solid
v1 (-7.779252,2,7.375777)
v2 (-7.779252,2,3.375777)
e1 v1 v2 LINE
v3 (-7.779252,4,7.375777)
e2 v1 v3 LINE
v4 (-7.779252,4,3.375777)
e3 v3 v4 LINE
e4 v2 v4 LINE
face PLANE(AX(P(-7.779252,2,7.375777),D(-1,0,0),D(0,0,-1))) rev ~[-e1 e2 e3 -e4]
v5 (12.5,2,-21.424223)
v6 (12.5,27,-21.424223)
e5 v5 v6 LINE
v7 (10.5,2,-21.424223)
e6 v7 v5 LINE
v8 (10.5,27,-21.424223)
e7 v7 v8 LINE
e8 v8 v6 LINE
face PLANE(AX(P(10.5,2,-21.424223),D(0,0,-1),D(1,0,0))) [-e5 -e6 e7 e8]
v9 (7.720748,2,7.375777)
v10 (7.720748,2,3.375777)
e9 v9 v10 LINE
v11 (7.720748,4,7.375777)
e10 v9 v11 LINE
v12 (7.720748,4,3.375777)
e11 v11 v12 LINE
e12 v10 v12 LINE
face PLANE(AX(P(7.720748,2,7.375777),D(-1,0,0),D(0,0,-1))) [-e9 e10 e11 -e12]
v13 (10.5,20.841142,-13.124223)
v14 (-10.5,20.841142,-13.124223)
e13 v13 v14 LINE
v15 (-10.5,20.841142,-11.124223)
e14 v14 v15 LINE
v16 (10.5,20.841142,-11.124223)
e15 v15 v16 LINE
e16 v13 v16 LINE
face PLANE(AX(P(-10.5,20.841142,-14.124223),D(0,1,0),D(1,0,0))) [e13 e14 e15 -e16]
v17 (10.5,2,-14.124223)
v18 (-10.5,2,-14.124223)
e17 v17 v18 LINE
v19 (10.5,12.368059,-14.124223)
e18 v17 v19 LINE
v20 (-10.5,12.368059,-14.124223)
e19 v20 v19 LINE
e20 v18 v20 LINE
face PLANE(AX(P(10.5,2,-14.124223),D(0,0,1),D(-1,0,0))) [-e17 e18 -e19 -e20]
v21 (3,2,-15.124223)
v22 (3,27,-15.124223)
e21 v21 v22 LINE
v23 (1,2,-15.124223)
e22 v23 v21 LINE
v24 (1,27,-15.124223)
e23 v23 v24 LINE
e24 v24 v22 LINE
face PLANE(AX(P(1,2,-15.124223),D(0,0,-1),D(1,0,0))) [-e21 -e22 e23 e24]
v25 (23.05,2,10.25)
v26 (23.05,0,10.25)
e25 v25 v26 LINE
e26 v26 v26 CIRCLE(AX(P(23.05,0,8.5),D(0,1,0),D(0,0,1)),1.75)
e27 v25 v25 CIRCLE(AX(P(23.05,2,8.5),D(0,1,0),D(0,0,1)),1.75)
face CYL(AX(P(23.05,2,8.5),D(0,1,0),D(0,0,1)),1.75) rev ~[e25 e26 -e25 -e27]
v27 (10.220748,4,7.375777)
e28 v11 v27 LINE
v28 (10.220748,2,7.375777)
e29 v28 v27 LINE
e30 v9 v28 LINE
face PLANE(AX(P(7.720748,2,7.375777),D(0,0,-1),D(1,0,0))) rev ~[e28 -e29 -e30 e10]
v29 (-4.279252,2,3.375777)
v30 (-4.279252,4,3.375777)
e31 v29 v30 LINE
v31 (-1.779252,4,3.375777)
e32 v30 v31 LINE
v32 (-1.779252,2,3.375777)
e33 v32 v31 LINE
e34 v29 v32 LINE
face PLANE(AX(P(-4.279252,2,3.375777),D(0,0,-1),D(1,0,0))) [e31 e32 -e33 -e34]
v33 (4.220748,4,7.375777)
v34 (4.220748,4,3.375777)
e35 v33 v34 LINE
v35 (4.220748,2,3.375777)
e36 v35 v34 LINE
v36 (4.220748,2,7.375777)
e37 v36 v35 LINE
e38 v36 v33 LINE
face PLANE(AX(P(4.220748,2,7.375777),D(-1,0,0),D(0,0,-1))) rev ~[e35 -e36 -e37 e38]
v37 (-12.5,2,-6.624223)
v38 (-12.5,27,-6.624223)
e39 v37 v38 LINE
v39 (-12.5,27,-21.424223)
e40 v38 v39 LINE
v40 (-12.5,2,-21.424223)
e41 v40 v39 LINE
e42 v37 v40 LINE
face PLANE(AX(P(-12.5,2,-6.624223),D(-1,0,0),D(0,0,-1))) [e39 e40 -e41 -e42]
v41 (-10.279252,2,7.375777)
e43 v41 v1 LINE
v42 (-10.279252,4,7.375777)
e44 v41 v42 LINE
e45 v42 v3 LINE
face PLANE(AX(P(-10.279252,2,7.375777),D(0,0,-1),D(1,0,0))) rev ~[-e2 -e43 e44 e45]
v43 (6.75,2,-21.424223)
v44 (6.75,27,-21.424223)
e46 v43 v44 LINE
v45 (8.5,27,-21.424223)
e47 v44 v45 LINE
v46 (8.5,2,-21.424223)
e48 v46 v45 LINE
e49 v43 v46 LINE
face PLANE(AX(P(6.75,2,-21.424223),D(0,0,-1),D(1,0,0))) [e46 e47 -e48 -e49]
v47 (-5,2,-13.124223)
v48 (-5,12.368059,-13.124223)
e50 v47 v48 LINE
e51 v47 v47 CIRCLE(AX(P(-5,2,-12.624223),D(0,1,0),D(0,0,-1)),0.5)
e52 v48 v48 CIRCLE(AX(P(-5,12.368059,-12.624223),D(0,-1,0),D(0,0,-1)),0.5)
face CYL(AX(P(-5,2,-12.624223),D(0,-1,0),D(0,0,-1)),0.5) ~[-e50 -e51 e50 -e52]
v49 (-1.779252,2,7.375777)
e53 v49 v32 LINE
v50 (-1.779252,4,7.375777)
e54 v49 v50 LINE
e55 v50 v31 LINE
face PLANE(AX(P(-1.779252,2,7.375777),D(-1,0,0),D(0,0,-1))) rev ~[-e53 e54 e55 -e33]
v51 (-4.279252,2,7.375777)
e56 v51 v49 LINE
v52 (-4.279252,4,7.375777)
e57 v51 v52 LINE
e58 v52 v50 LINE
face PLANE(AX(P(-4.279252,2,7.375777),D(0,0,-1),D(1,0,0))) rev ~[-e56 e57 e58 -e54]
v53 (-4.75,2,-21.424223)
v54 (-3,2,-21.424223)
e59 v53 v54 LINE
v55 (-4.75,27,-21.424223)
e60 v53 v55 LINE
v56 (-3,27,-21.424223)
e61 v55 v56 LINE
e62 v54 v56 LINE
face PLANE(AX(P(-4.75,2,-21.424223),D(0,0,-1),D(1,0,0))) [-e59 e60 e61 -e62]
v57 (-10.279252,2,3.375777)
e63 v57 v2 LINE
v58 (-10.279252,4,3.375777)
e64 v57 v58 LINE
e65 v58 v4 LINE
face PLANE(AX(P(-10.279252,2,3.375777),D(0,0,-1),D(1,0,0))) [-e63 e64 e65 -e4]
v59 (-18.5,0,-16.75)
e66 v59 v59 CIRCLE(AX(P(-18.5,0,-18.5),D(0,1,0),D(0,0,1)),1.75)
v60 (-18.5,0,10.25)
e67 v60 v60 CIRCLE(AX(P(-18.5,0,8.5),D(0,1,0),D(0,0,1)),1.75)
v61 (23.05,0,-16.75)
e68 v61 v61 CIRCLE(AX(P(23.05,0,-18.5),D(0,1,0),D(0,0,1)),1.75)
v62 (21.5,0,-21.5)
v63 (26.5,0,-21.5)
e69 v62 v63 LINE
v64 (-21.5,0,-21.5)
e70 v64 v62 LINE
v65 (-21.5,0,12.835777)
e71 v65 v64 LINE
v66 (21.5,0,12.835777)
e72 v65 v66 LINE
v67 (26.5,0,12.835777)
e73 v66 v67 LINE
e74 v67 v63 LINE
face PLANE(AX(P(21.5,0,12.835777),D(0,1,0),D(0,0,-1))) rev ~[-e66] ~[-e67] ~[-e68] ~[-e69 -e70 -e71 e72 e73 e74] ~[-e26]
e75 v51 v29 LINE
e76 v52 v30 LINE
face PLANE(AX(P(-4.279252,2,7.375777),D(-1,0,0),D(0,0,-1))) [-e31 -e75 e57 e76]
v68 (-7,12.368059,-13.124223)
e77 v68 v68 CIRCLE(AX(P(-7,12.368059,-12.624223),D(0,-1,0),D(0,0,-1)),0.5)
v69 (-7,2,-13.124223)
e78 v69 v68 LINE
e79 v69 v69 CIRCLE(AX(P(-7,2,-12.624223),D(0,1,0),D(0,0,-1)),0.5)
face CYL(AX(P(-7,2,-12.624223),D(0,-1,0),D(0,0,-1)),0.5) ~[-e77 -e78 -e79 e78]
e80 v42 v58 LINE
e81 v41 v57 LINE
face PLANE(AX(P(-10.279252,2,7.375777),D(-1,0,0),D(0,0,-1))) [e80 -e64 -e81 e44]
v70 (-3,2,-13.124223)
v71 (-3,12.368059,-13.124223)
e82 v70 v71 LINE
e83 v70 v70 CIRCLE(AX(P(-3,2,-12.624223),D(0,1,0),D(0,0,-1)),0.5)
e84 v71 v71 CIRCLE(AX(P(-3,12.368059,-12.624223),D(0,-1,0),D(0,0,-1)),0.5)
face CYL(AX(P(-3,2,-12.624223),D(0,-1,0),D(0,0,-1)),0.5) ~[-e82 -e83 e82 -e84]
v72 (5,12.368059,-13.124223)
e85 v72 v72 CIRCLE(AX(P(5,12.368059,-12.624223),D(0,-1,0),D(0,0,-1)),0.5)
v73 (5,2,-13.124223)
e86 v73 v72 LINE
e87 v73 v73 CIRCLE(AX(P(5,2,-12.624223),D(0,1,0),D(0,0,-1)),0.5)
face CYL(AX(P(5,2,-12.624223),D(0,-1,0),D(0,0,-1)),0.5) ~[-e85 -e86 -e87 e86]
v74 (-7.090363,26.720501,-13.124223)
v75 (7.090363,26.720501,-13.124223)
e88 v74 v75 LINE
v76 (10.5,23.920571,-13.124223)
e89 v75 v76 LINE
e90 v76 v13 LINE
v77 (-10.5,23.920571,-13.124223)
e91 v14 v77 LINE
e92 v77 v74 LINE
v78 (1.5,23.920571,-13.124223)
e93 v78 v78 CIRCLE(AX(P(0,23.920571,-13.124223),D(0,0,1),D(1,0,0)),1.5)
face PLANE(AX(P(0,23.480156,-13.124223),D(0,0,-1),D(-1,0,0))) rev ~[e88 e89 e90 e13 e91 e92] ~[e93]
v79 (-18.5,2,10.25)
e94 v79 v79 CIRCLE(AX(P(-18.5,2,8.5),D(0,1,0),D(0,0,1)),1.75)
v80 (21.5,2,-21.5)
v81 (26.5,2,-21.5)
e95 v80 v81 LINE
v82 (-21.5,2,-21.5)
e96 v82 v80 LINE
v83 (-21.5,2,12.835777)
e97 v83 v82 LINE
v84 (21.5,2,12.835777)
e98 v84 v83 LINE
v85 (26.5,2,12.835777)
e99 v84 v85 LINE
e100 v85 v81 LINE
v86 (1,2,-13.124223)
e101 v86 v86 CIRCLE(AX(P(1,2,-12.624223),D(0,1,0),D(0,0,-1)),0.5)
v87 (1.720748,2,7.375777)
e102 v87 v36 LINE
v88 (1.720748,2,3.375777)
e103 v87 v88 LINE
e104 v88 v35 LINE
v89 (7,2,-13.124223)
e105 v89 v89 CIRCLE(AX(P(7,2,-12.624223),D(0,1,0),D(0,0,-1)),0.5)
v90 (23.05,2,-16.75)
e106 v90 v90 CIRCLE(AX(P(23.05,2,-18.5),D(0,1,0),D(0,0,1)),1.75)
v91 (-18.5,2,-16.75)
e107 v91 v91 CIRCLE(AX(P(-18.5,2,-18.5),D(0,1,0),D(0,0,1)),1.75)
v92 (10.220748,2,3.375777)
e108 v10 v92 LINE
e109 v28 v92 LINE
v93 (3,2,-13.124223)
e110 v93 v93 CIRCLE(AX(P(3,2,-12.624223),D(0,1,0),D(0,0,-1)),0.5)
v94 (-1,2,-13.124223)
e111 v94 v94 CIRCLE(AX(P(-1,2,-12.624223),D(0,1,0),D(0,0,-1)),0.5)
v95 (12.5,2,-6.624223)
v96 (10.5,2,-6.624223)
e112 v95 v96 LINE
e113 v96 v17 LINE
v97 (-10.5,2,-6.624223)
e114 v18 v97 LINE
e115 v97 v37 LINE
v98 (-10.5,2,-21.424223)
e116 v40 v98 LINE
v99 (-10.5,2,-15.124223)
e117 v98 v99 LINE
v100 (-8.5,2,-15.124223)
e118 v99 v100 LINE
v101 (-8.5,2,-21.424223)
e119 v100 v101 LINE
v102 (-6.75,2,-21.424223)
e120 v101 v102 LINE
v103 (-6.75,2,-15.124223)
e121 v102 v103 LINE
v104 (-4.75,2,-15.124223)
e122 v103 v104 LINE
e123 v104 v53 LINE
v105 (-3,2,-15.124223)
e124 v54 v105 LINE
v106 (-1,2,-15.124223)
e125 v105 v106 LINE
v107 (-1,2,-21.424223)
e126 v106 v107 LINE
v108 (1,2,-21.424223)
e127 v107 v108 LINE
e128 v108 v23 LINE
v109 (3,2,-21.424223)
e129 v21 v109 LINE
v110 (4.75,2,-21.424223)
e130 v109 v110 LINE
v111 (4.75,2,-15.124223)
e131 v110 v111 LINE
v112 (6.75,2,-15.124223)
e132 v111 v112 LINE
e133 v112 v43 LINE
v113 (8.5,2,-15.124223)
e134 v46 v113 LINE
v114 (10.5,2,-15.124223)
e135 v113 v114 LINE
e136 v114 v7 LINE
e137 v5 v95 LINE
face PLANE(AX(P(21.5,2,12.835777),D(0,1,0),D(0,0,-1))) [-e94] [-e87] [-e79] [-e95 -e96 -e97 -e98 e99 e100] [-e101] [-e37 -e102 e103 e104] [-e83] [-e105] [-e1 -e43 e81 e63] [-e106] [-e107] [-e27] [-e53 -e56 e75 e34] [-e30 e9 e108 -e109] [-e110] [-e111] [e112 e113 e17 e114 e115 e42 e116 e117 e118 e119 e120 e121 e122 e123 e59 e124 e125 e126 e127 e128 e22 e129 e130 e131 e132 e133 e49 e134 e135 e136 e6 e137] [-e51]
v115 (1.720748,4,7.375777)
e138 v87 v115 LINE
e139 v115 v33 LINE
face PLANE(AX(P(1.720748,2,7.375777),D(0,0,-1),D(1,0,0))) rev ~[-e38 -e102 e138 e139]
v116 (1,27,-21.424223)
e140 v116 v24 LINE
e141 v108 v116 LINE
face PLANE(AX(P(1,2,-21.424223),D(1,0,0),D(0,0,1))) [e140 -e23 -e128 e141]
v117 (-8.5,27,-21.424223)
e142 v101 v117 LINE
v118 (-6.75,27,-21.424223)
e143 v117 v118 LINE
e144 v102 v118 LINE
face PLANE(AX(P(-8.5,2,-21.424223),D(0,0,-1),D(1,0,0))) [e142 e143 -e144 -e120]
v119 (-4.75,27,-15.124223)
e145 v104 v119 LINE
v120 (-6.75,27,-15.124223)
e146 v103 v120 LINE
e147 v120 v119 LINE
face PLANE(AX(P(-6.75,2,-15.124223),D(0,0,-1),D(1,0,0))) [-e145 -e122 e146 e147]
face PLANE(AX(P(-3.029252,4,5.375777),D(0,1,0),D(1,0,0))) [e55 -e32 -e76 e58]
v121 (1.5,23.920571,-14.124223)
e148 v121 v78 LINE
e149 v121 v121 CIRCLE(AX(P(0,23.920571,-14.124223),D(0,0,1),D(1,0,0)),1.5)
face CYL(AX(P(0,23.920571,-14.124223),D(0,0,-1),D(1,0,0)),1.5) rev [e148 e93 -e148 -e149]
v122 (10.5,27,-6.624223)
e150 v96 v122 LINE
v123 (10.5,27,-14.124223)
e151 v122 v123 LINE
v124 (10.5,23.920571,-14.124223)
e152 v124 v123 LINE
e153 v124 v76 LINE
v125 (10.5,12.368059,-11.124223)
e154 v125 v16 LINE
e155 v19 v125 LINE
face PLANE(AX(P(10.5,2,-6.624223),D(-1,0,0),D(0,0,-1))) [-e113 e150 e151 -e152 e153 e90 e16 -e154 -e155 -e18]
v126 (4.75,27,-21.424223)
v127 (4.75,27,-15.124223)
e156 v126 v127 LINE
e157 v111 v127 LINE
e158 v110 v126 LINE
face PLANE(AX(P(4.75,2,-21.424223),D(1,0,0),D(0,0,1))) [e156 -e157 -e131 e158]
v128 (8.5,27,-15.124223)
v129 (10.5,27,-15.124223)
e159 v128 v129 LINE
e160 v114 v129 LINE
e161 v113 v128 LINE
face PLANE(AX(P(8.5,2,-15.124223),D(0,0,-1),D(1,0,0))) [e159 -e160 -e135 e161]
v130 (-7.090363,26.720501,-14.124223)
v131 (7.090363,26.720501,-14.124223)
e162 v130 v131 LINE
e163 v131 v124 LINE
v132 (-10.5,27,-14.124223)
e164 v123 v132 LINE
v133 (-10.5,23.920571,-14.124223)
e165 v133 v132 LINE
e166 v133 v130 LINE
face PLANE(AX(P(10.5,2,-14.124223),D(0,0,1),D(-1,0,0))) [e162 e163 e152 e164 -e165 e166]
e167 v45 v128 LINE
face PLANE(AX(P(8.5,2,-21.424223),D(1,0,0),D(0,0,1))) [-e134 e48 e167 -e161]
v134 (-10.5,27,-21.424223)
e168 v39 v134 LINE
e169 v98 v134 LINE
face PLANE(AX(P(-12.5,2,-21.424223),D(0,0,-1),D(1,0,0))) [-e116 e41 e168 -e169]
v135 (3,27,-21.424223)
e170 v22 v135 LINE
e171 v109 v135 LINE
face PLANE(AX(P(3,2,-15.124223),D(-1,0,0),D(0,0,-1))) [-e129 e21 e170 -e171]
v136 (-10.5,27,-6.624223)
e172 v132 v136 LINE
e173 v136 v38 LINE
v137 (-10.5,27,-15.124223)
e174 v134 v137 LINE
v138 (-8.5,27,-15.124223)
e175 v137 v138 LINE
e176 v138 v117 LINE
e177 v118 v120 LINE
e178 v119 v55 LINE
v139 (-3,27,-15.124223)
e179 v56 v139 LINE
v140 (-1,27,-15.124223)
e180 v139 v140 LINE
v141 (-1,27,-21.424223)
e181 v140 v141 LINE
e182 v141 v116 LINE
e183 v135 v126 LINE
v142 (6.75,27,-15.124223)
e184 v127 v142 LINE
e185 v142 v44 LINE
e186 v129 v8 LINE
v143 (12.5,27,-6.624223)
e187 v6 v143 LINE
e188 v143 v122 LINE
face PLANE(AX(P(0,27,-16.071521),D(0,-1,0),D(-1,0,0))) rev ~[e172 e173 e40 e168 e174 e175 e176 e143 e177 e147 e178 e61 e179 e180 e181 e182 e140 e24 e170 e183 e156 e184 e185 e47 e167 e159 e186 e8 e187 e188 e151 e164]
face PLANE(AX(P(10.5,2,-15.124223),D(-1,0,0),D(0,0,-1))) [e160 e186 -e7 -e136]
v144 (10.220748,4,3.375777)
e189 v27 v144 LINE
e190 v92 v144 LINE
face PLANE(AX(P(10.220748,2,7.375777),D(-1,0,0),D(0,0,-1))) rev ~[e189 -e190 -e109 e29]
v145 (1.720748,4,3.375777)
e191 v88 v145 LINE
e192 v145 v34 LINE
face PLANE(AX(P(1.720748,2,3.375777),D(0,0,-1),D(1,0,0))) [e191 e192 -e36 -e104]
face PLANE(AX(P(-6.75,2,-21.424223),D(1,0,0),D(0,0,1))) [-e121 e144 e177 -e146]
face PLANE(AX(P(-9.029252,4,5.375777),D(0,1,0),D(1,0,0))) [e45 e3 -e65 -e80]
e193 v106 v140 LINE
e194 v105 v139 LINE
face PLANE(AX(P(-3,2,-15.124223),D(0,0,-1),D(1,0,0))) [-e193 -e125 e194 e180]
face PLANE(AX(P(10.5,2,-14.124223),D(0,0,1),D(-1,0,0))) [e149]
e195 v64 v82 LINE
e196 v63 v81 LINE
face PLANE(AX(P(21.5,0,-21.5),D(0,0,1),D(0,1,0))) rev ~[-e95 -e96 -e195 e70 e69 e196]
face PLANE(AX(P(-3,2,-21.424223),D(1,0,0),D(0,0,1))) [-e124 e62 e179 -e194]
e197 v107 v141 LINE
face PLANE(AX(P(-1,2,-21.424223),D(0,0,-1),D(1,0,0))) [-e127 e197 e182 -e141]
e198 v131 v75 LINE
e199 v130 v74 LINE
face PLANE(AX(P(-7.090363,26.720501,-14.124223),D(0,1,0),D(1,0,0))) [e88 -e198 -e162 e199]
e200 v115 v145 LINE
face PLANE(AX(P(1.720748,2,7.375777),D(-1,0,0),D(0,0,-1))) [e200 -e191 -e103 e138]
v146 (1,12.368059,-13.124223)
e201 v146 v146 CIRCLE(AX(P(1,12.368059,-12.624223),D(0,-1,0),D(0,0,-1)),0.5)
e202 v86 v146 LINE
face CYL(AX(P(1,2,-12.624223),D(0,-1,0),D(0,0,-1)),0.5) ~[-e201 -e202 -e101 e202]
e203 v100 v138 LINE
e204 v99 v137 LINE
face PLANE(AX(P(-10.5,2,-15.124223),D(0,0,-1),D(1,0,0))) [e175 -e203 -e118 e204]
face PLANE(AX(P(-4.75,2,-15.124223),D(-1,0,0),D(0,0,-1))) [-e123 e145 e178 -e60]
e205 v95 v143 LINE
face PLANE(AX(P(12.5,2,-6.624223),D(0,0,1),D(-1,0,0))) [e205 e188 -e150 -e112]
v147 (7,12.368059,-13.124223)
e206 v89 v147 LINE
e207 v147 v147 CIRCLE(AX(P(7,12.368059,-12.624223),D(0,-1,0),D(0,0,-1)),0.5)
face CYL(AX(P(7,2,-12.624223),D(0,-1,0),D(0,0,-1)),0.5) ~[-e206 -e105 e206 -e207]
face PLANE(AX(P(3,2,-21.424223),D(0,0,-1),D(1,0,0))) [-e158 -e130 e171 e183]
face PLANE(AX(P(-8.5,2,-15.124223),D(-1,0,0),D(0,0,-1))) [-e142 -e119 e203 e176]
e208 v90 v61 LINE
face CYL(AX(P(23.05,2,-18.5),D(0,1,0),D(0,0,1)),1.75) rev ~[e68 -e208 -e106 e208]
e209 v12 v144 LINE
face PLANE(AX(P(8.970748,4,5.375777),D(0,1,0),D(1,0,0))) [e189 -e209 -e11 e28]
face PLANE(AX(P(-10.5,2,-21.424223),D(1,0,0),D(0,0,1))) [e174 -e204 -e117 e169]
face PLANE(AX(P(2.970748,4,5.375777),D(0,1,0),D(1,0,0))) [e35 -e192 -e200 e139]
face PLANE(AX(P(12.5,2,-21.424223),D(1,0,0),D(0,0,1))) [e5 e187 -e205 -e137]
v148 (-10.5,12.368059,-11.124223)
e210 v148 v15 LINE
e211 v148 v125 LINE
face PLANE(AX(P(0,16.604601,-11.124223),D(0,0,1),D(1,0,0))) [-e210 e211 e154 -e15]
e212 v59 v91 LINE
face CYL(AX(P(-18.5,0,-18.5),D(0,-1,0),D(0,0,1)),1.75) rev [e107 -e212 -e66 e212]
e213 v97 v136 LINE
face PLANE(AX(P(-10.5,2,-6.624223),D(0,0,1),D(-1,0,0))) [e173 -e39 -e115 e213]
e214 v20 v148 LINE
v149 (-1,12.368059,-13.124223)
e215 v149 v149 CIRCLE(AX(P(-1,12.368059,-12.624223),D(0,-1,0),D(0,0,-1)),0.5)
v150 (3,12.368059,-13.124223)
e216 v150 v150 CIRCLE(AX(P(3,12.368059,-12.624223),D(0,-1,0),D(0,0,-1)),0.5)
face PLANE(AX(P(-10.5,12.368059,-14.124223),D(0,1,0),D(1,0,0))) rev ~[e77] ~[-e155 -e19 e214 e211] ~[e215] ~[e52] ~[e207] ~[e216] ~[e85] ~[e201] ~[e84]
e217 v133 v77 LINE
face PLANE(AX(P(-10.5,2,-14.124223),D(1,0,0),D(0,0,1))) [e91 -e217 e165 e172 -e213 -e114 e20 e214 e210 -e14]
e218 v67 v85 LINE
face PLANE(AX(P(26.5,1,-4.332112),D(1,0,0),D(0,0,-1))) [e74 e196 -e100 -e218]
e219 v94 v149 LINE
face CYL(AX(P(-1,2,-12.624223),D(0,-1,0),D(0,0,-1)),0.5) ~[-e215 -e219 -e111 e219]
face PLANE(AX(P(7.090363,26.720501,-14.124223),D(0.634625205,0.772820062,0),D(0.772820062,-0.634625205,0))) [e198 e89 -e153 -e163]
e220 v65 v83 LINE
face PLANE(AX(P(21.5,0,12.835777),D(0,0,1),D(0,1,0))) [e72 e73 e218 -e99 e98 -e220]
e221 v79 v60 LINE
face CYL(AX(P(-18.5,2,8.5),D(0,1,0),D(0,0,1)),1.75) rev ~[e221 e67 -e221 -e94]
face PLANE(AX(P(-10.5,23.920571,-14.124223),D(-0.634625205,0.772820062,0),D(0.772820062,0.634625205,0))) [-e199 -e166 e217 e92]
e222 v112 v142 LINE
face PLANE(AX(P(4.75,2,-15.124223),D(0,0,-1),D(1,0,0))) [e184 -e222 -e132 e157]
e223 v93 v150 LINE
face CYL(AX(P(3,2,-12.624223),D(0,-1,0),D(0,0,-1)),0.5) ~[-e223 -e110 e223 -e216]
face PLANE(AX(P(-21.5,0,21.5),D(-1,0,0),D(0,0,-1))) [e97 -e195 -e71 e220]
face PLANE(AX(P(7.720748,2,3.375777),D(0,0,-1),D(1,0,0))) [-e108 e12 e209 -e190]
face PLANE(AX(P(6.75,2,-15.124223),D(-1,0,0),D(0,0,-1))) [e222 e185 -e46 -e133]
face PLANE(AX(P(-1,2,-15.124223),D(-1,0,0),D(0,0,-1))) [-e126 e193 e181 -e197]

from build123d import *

# Parameters (mm, degrees)
SKETCH1_W                = 43
SKETCH1_H                = 43
SKETCH1_R                = 1.75
BOSS_EXTRUDE1_DEPTH      = 2
BOSS_EXTRUDE2_DEPTH      = 1.5
SKETCH3_R                = 0.69895541
SKETCH3_R_2              = 0.7
BOSS_EXTRUDE3_DEPTH      = 6.5
SKETCH4_W                = 7.9
SKETCH4_H                = 11.24
SKETCH4_W_2              = 16.08
SKETCH4_H_2              = 7.9
BOSS_EXTRUDE4_DEPTH      = 10
BOSS_EXTRUDE5_DEPTH      = 25
SKETCH10_W               = 21
SKETCH10_H               = 8.473082751
BOSS_EXTRUDE6_DEPTH      = 3
SKETCH11_R               = 1.5
BOSS_EXTRUDE7_DEPTH      = 1
SKETCH12_R               = 0.5
BOSS_EXTRUDE8_DEPTH      = 11
SKETCH13_W               = 4
SKETCH13_H               = 5
CUT_EXTRUDE5_DEPTH       = 5
SKETCH16_W               = 2.5
SKETCH16_H               = 4
BOSS_EXTRUDE9_DEPTH      = 2
SKETCH17_W               = 4
SKETCH17_H               = 5
CUT_EXTRUDE6_DEPTH       = 5
SKETCH18_W               = 4
SKETCH18_H               = 5
CUT_EXTRUDE7_DEPTH       = 5
SKETCH19_R               = 2
CUT_EXTRUDE8_DEPTH       = 2
CUT_EXTRUDE9_DEPTH       = 1
BOSS_EXTRUDE10_START     = -2
SKETCH21_R               = 1.75
BOSS_EXTRUDE10_DEPTH     = 2
CUT_EXTRUDE11_DEPTH      = 12
CUT_EXTRUDE11_DEPTH_BACK = 2
SKETCH22_W               = 43
SKETCH22_H               = 8.664223245
SKETCH23_W               = 34.335776755
SKETCH23_H               = 2
BOSS_EXTRUDE11_DEPTH     = 5
SKETCH24_R               = 1.75
CUT_EXTRUDE12_DEPTH      = 5
SKETCH25_W               = 7.9
SKETCH25_H               = 11.24
CUT_EXTRUDE13_DEPTH      = 10
SKETCH26_R               = 1.75
CUT_EXTRUDE14_DEPTH      = 2
SKETCH27_W               = 7.9
SKETCH27_H               = 11.24
CUT_EXTRUDE15_DEPTH      = 10


with BuildPart() as part:
    # Sketch1 → Boss-Extrude1 (new body)
    with BuildSketch(Plane(origin=(0, 0, 0), x_dir=(1, 0, 0), z_dir=(0, 1, 0))):
        Rectangle(SKETCH1_W, SKETCH1_H)
        with Locations(Location((-18.5, -18.5, 0), (0, 0, 270))):
            Circle(SKETCH1_R, mode=Mode.SUBTRACT)
        with Locations(Location((18.5, -18.5, 0), (0, 0, 270))):
            Circle(SKETCH1_R, mode=Mode.SUBTRACT)
        with Locations(Location((-18.5, 18.5, 0), (0, 0, 270))):
            Circle(SKETCH1_R, mode=Mode.SUBTRACT)
        with Locations(Location((18.5, 18.5, 0), (0, 0, 270))):
            Circle(SKETCH1_R, mode=Mode.SUBTRACT)
    extrude(amount=BOSS_EXTRUDE1_DEPTH)

    # Sketch2 → Boss-Extrude2 (add)
    with BuildSketch(Plane(origin=(0, 2, 0), x_dir=(1, 0, 0), z_dir=(0, 1, 0))):
        Polygon((0.830748064, -14.345776755), (0.830748064, -19.775776755), (15.700748064, -19.775776755), (15.700748064, -14.345776755), (13.280748064, -14.345776755), (13.280748064, -16.765776755), (3.250748064, -16.765776755), (3.250748064, -14.345776755), align=None)
    extrude(amount=BOSS_EXTRUDE2_DEPTH)

    # Sketch3 → Boss-Extrude3 (add)
    with BuildSketch(Plane(origin=(0, 3.5, 0), x_dir=(1, 0, 0), z_dir=(0, 1, 0))):
        with Locations(Location((2.040748064, -18.225776755, 0), (0, 0, 90))):
            Circle(SKETCH3_R)
        with Locations(Location((4.530748064, -18.225776755, 0), (0, 0, 90))):
            Circle(SKETCH3_R)
        with Locations(Location((7.020748064, -18.225776755, 0), (0, 0, 90))):
            Circle(SKETCH3_R)
        with Locations(Location((9.510748064, -18.225776755, 0), (0, 0, 90))):
            Circle(SKETCH3_R)
        with Locations(Location((12.000748064, -18.225776755, 0), (0, 0, 90))):
            Circle(SKETCH3_R)
        with Locations(Location((14.490748064, -18.225776755, 0), (0, 0, 90))):
            Circle(SKETCH3_R)
        with Locations(Location((2.040748064, -15.735776755, 0), (0, 0, 90))):
            Circle(SKETCH3_R_2)
        with Locations(Location((14.490748064, -15.735776755, 0), (0, 0, 90))):
            Circle(SKETCH3_R_2)
    extrude(amount=BOSS_EXTRUDE3_DEPTH)

    # Sketch4 → Boss-Extrude4 (add)
    with BuildSketch(Plane(origin=(0, 2, 0), x_dir=(1, 0, 0), z_dir=(0, 1, 0))):
        with Locations((-17.229251936, -6.515776755)):
            Rectangle(SKETCH4_W, SKETCH4_H)
        with Locations((-7.599251936, -17.325776755)):
            Rectangle(SKETCH4_W_2, SKETCH4_H_2)
        with Locations((17.229251936, -6.515776755)):
            Rectangle(SKETCH4_W, SKETCH4_H)
    extrude(amount=BOSS_EXTRUDE4_DEPTH)

    # Sketch8 → Boss-Extrude5 (add)
    with BuildSketch(Plane(origin=(0, 2, 0), x_dir=(1, 0, 0), z_dir=(0, 1, 0))):
        Polygon((3, 21.424223245), (4.75, 21.424223245), (4.75, 15.124223245), (6.75, 15.124223245), (6.75, 21.424223245), (8.5, 21.424223245), (8.5, 15.124223245), (10.5, 15.124223245), (10.5, 21.424223245), (12.5, 21.424223245), (12.5, 6.624223245), (10.5, 6.624223245), (10.5, 14.124223245), (-10.5, 14.124223245), (-10.5, 6.624223245), (-12.5, 6.624223245), (-12.5, 21.424223245), (-10.5, 21.424223245), (-10.5, 15.124223245), (-8.5, 15.124223245), (-8.5, 21.424223245), (-6.75, 21.424223245), (-6.75, 15.124223245), (-4.75, 15.124223245), (-4.75, 21.424223245), (-3, 21.424223245), (-3, 15.124223245), (-1, 15.124223245), (-1, 21.424223245), (1, 21.424223245), (1, 15.124223245), (3, 15.124223245), align=None)
    extrude(amount=BOSS_EXTRUDE5_DEPTH)

    # Sketch10 → Boss-Extrude6 (add)
    with BuildSketch(Plane.XY.offset(-14.124223245)):
        with Locations((0, 16.604600605)):
            Rectangle(SKETCH10_W, SKETCH10_H)
    extrude(amount=BOSS_EXTRUDE6_DEPTH)

    # Sketch11 → Boss-Extrude7 (add)
    with BuildSketch(Plane.XY.offset(-14.124223245)):
        Polygon((-10.5, 23.92057099), (-7.090362565, 26.720500705), (7.090362565, 26.720500705), (10.5, 23.92057099), (10.5, 20.841141981), (-10.5, 20.841141981), align=None)
        with Locations((0, 23.92057099)):
            Circle(SKETCH11_R, mode=Mode.SUBTRACT)
    extrude(amount=BOSS_EXTRUDE7_DEPTH)

    # Sketch12 → Boss-Extrude8 (add)
    with BuildSketch(Plane(origin=(0, 2, 0), x_dir=(1, 0, 0), z_dir=(0, 1, 0))):
        with Locations(Location((-7, 12.624223245, 0), (0, 0, 90))):
            Circle(SKETCH12_R)
        with Locations(Location((-5, 12.624223245, 0), (0, 0, 90))):
            Circle(SKETCH12_R)
        with Locations(Location((-3, 12.624223245, 0), (0, 0, 90))):
            Circle(SKETCH12_R)
        with Locations(Location((-1, 12.624223245, 0), (0, 0, 90))):
            Circle(SKETCH12_R)
        with Locations(Location((1, 12.624223245, 0), (0, 0, 90))):
            Circle(SKETCH12_R)
        with Locations(Location((3, 12.624223245, 0), (0, 0, 90))):
            Circle(SKETCH12_R)
        with Locations(Location((5, 12.624223245, 0), (0, 0, 90))):
            Circle(SKETCH12_R)
        with Locations(Location((7, 12.624223245, 0), (0, 0, 90))):
            Circle(SKETCH12_R)
    extrude(amount=BOSS_EXTRUDE8_DEPTH)

    # Sketch13 → Cut-Extrude5 (cut)
    with BuildSketch(Plane.ZY.offset(21.179251936)):
        with Locations((4.015776755, 5.5)):
            Rectangle(SKETCH13_W, SKETCH13_H)
        with Locations((9.015776755, 5.5)):
            Rectangle(SKETCH13_W, SKETCH13_H)
    extrude(amount=-CUT_EXTRUDE5_DEPTH, mode=Mode.SUBTRACT)

    # Sketch16 → Boss-Extrude9 (add)
    with BuildSketch(Plane(origin=(0, 2, 0), x_dir=(1, 0, 0), z_dir=(0, 1, 0))):
        with Locations((-9.029251936, -5.375776755)):
            Rectangle(SKETCH16_W, SKETCH16_H)
        with Locations((-3.029251936, -5.375776755)):
            Rectangle(SKETCH16_W, SKETCH16_H)
        with Locations((2.970748064, -5.375776755)):
            Rectangle(SKETCH16_W, SKETCH16_H)
        with Locations((8.970748064, -5.375776755)):
            Rectangle(SKETCH16_W, SKETCH16_H)
    extrude(amount=BOSS_EXTRUDE9_DEPTH)

    # Sketch17 → Cut-Extrude6 (cut)
    with BuildSketch(Plane.XY.offset(21.275776755)):
        with Locations((-13.139251936, 5.5)):
            Rectangle(SKETCH17_W, SKETCH17_H)
        with Locations((-7.639251936, 5.5)):
            Rectangle(SKETCH17_W, SKETCH17_H)
        with Locations((-2.139251936, 5.5)):
            Rectangle(SKETCH17_W, SKETCH17_H)
    extrude(amount=-CUT_EXTRUDE6_DEPTH, mode=Mode.SUBTRACT)

    # Sketch18 → Cut-Extrude7 (cut)
    with BuildSketch(Plane(origin=(21.179251936, 0, 0), x_dir=(0, 0, -1), z_dir=(1, 0, 0))):
        with Locations((-9.015776755, 5.5)):
            Rectangle(SKETCH18_W, SKETCH18_H)
        with Locations((-4.015776755, 5.5)):
            Rectangle(SKETCH18_W, SKETCH18_H)
    extrude(amount=-CUT_EXTRUDE7_DEPTH, mode=Mode.SUBTRACT)

    # Sketch19 → Cut-Extrude8 (cut)
    with BuildSketch(Plane(origin=(0, 12, 0), x_dir=(1, 0, 0), z_dir=(0, 1, 0))):
        with Locations(Location((-17.229251936, -3.895776755, 0), (0, 0, 270))):
            Circle(SKETCH19_R)
        with Locations(Location((-17.229251936, -9.135776755, 0), (0, 0, 270))):
            Circle(SKETCH19_R)
        with Locations(Location((-12.639251936, -17.325776755, 0), (0, 0, 270))):
            Circle(SKETCH19_R)
        with Locations(Location((-7.639251936, -17.325776755, 0), (0, 0, 270))):
            Circle(SKETCH19_R)
        with Locations(Location((-2.639251936, -17.325776755, 0), (0, 0, 270))):
            Circle(SKETCH19_R)
        with Locations(Location((17.229251936, -9.135776755, 0), (0, 0, 90))):
            Circle(SKETCH19_R)
        with Locations(Location((17.229251936, -3.895776755, 0), (0, 0, 90))):
            Circle(SKETCH19_R)
    extrude(amount=-CUT_EXTRUDE8_DEPTH, mode=Mode.SUBTRACT)

    # Sketch20 → Cut-Extrude9 (cut)
    with BuildSketch(Plane(origin=(0, 10, 0), x_dir=(1, 0, 0), z_dir=(0, 1, 0))):
        with BuildLine():
            Line((-8.314251936, -15.443125699), (-8.314251936, -19.208427811))
            ThreePointArc((-8.314251936, -19.208427811), (-7.639251936, -19.325776755), (-6.964251936, -19.208427811))
            Line((-6.964251936, -19.208427811), (-6.964251936, -15.443125699))
            ThreePointArc((-6.964251936, -15.443125699), (-7.639251936, -15.325776755), (-8.314251936, -15.443125699))
        make_face()
        with BuildLine():
            Line((-3.314251936, -15.443125699), (-3.314251936, -19.208427811))
            ThreePointArc((-3.314251936, -19.208427811), (-2.639251936, -19.325776755), (-1.964251936, -19.208427811))
            Line((-1.964251936, -19.208427811), (-1.964251936, -15.443125699))
            ThreePointArc((-1.964251936, -15.443125699), (-2.639251936, -15.325776755), (-3.314251936, -15.443125699))
        make_face()
        with BuildLine():
            Line((-16.554251936, -2.013478411), (-16.554251936, -5.778075099))
            ThreePointArc((-16.554251936, -5.778075099), (-17.229251936, -5.895444741), (-17.904251936, -5.778075099))
            Line((-17.904251936, -5.778075099), (-17.904251936, -2.013478411))
            ThreePointArc((-17.904251936, -2.013478411), (-17.229251936, -1.896108769), (-16.554251936, -2.013478411))
        make_face()
        with BuildLine():
            Line((-16.554251936, -11.018075099), (-16.554251936, -7.253478411))
            ThreePointArc((-16.554251936, -7.253478411), (-17.229251936, -7.136108769), (-17.904251936, -7.253478411))
            Line((-17.904251936, -7.253478411), (-17.904251936, -11.018075099))
            ThreePointArc((-17.904251936, -11.018075099), (-17.229251936, -11.135444741), (-16.554251936, -11.018075099))
        make_face()
        with BuildLine():
            Line((-11.964251936, -19.216907159), (-11.964251936, -15.434646351))
            ThreePointArc((-11.964251936, -15.434646351), (-12.639251936, -15.317792889), (-13.314251936, -15.434646351))
            Line((-13.314251936, -15.434646351), (-13.314251936, -19.216907159))
            ThreePointArc((-13.314251936, -19.216907159), (-12.639251936, -19.333760621), (-11.964251936, -19.216907159))
        make_face()
        with BuildLine():
            Line((17.904251936, -11.018075099), (17.904251936, -7.253478411))
            ThreePointArc((17.904251936, -7.253478411), (17.229251936, -7.136108769), (16.554251936, -7.253478411))
            Line((16.554251936, -7.253478411), (16.554251936, -11.018075099))
            ThreePointArc((16.554251936, -11.018075099), (17.229251936, -11.135444741), (17.904251936, -11.018075099))
        make_face()
        with BuildLine():
            Line((17.904251936, -2.013478411), (17.904251936, -5.778075099))
            ThreePointArc((17.904251936, -5.778075099), (17.229251936, -5.895444741), (16.554251936, -5.778075099))
            Line((16.554251936, -5.778075099), (16.554251936, -2.013478411))
            ThreePointArc((16.554251936, -2.013478411), (17.229251936, -1.896108769), (17.904251936, -2.013478411))
        make_face()
    extrude(amount=-CUT_EXTRUDE9_DEPTH, mode=Mode.SUBTRACT)

    # Sketch21 → Boss-Extrude10 (add)
    with BuildSketch(Plane(origin=(0, 2, 0), x_dir=(1, 0, 0), z_dir=(0, 1, 0)).offset(BOSS_EXTRUDE10_START)):
        with Locations((18.5, 18.5)):
            Circle(SKETCH21_R)
        with Locations((-18.5, -18.5)):
            Circle(SKETCH21_R)
        with Locations((18.5, -18.5)):
            Circle(SKETCH21_R)
    extrude(amount=BOSS_EXTRUDE10_DEPTH)

    # Sketch22 → Cut-Extrude11 (cut, two sides: drawn at the far end of the back side and taken through both)
    with BuildSketch(Plane(origin=(0, 2, 0), x_dir=(1, 0, 0), z_dir=(0, 1, 0)).offset(-CUT_EXTRUDE11_DEPTH_BACK)):
        with Locations((0, -17.167888377)):
            Rectangle(SKETCH22_W, SKETCH22_H)
    extrude(amount=CUT_EXTRUDE11_DEPTH + CUT_EXTRUDE11_DEPTH_BACK, mode=Mode.SUBTRACT)

    # Sketch23 → Boss-Extrude11 (add)
    with BuildSketch(Plane(origin=(21.5, 0, 0), x_dir=(0, 0, -1), z_dir=(1, 0, 0))):
        with Locations((4.332111622, 1)):
            Rectangle(SKETCH23_W, SKETCH23_H)
    extrude(amount=BOSS_EXTRUDE11_DEPTH)

    # Sketch24 → Cut-Extrude12 (cut)
    with BuildSketch(Plane(origin=(0, 2, 0), x_dir=(1, 0, 0), z_dir=(0, 1, 0))):
        with Locations(Location((23.05, 18.5, 0), (0, 0, 270))):
            Circle(SKETCH24_R)
        with Locations(Location((23.05, -8.5, 0), (0, 0, 270))):
            Circle(SKETCH24_R)
    extrude(amount=-CUT_EXTRUDE12_DEPTH, mode=Mode.SUBTRACT)

    # Sketch25 → Cut-Extrude13 (cut)
    with BuildSketch(Plane(origin=(0, 12, 0), x_dir=(1, 0, 0), z_dir=(0, 1, 0))):
        with Locations((-17.229251936, -6.515776755)):
            Rectangle(SKETCH25_W, SKETCH25_H)
    extrude(amount=-CUT_EXTRUDE13_DEPTH, mode=Mode.SUBTRACT)

    # Sketch26 → Cut-Extrude14 (cut)
    with BuildSketch(Plane(origin=(0, 2, 0), x_dir=(1, 0, 0), z_dir=(0, 1, 0))):
        with Locations(Location((-18.5, -8.5, 0), (0, 0, 270))):
            Circle(SKETCH26_R)
    extrude(amount=-CUT_EXTRUDE14_DEPTH, mode=Mode.SUBTRACT)

    # Sketch27 → Cut-Extrude15 (cut)
    with BuildSketch(Plane(origin=(0, 12, 0), x_dir=(1, 0, 0), z_dir=(0, 1, 0))):
        with Locations((17.229251936, -6.515776755)):
            Rectangle(SKETCH27_W, SKETCH27_H)
    extrude(amount=-CUT_EXTRUDE15_DEPTH, mode=Mode.SUBTRACT)


solid = part.part
